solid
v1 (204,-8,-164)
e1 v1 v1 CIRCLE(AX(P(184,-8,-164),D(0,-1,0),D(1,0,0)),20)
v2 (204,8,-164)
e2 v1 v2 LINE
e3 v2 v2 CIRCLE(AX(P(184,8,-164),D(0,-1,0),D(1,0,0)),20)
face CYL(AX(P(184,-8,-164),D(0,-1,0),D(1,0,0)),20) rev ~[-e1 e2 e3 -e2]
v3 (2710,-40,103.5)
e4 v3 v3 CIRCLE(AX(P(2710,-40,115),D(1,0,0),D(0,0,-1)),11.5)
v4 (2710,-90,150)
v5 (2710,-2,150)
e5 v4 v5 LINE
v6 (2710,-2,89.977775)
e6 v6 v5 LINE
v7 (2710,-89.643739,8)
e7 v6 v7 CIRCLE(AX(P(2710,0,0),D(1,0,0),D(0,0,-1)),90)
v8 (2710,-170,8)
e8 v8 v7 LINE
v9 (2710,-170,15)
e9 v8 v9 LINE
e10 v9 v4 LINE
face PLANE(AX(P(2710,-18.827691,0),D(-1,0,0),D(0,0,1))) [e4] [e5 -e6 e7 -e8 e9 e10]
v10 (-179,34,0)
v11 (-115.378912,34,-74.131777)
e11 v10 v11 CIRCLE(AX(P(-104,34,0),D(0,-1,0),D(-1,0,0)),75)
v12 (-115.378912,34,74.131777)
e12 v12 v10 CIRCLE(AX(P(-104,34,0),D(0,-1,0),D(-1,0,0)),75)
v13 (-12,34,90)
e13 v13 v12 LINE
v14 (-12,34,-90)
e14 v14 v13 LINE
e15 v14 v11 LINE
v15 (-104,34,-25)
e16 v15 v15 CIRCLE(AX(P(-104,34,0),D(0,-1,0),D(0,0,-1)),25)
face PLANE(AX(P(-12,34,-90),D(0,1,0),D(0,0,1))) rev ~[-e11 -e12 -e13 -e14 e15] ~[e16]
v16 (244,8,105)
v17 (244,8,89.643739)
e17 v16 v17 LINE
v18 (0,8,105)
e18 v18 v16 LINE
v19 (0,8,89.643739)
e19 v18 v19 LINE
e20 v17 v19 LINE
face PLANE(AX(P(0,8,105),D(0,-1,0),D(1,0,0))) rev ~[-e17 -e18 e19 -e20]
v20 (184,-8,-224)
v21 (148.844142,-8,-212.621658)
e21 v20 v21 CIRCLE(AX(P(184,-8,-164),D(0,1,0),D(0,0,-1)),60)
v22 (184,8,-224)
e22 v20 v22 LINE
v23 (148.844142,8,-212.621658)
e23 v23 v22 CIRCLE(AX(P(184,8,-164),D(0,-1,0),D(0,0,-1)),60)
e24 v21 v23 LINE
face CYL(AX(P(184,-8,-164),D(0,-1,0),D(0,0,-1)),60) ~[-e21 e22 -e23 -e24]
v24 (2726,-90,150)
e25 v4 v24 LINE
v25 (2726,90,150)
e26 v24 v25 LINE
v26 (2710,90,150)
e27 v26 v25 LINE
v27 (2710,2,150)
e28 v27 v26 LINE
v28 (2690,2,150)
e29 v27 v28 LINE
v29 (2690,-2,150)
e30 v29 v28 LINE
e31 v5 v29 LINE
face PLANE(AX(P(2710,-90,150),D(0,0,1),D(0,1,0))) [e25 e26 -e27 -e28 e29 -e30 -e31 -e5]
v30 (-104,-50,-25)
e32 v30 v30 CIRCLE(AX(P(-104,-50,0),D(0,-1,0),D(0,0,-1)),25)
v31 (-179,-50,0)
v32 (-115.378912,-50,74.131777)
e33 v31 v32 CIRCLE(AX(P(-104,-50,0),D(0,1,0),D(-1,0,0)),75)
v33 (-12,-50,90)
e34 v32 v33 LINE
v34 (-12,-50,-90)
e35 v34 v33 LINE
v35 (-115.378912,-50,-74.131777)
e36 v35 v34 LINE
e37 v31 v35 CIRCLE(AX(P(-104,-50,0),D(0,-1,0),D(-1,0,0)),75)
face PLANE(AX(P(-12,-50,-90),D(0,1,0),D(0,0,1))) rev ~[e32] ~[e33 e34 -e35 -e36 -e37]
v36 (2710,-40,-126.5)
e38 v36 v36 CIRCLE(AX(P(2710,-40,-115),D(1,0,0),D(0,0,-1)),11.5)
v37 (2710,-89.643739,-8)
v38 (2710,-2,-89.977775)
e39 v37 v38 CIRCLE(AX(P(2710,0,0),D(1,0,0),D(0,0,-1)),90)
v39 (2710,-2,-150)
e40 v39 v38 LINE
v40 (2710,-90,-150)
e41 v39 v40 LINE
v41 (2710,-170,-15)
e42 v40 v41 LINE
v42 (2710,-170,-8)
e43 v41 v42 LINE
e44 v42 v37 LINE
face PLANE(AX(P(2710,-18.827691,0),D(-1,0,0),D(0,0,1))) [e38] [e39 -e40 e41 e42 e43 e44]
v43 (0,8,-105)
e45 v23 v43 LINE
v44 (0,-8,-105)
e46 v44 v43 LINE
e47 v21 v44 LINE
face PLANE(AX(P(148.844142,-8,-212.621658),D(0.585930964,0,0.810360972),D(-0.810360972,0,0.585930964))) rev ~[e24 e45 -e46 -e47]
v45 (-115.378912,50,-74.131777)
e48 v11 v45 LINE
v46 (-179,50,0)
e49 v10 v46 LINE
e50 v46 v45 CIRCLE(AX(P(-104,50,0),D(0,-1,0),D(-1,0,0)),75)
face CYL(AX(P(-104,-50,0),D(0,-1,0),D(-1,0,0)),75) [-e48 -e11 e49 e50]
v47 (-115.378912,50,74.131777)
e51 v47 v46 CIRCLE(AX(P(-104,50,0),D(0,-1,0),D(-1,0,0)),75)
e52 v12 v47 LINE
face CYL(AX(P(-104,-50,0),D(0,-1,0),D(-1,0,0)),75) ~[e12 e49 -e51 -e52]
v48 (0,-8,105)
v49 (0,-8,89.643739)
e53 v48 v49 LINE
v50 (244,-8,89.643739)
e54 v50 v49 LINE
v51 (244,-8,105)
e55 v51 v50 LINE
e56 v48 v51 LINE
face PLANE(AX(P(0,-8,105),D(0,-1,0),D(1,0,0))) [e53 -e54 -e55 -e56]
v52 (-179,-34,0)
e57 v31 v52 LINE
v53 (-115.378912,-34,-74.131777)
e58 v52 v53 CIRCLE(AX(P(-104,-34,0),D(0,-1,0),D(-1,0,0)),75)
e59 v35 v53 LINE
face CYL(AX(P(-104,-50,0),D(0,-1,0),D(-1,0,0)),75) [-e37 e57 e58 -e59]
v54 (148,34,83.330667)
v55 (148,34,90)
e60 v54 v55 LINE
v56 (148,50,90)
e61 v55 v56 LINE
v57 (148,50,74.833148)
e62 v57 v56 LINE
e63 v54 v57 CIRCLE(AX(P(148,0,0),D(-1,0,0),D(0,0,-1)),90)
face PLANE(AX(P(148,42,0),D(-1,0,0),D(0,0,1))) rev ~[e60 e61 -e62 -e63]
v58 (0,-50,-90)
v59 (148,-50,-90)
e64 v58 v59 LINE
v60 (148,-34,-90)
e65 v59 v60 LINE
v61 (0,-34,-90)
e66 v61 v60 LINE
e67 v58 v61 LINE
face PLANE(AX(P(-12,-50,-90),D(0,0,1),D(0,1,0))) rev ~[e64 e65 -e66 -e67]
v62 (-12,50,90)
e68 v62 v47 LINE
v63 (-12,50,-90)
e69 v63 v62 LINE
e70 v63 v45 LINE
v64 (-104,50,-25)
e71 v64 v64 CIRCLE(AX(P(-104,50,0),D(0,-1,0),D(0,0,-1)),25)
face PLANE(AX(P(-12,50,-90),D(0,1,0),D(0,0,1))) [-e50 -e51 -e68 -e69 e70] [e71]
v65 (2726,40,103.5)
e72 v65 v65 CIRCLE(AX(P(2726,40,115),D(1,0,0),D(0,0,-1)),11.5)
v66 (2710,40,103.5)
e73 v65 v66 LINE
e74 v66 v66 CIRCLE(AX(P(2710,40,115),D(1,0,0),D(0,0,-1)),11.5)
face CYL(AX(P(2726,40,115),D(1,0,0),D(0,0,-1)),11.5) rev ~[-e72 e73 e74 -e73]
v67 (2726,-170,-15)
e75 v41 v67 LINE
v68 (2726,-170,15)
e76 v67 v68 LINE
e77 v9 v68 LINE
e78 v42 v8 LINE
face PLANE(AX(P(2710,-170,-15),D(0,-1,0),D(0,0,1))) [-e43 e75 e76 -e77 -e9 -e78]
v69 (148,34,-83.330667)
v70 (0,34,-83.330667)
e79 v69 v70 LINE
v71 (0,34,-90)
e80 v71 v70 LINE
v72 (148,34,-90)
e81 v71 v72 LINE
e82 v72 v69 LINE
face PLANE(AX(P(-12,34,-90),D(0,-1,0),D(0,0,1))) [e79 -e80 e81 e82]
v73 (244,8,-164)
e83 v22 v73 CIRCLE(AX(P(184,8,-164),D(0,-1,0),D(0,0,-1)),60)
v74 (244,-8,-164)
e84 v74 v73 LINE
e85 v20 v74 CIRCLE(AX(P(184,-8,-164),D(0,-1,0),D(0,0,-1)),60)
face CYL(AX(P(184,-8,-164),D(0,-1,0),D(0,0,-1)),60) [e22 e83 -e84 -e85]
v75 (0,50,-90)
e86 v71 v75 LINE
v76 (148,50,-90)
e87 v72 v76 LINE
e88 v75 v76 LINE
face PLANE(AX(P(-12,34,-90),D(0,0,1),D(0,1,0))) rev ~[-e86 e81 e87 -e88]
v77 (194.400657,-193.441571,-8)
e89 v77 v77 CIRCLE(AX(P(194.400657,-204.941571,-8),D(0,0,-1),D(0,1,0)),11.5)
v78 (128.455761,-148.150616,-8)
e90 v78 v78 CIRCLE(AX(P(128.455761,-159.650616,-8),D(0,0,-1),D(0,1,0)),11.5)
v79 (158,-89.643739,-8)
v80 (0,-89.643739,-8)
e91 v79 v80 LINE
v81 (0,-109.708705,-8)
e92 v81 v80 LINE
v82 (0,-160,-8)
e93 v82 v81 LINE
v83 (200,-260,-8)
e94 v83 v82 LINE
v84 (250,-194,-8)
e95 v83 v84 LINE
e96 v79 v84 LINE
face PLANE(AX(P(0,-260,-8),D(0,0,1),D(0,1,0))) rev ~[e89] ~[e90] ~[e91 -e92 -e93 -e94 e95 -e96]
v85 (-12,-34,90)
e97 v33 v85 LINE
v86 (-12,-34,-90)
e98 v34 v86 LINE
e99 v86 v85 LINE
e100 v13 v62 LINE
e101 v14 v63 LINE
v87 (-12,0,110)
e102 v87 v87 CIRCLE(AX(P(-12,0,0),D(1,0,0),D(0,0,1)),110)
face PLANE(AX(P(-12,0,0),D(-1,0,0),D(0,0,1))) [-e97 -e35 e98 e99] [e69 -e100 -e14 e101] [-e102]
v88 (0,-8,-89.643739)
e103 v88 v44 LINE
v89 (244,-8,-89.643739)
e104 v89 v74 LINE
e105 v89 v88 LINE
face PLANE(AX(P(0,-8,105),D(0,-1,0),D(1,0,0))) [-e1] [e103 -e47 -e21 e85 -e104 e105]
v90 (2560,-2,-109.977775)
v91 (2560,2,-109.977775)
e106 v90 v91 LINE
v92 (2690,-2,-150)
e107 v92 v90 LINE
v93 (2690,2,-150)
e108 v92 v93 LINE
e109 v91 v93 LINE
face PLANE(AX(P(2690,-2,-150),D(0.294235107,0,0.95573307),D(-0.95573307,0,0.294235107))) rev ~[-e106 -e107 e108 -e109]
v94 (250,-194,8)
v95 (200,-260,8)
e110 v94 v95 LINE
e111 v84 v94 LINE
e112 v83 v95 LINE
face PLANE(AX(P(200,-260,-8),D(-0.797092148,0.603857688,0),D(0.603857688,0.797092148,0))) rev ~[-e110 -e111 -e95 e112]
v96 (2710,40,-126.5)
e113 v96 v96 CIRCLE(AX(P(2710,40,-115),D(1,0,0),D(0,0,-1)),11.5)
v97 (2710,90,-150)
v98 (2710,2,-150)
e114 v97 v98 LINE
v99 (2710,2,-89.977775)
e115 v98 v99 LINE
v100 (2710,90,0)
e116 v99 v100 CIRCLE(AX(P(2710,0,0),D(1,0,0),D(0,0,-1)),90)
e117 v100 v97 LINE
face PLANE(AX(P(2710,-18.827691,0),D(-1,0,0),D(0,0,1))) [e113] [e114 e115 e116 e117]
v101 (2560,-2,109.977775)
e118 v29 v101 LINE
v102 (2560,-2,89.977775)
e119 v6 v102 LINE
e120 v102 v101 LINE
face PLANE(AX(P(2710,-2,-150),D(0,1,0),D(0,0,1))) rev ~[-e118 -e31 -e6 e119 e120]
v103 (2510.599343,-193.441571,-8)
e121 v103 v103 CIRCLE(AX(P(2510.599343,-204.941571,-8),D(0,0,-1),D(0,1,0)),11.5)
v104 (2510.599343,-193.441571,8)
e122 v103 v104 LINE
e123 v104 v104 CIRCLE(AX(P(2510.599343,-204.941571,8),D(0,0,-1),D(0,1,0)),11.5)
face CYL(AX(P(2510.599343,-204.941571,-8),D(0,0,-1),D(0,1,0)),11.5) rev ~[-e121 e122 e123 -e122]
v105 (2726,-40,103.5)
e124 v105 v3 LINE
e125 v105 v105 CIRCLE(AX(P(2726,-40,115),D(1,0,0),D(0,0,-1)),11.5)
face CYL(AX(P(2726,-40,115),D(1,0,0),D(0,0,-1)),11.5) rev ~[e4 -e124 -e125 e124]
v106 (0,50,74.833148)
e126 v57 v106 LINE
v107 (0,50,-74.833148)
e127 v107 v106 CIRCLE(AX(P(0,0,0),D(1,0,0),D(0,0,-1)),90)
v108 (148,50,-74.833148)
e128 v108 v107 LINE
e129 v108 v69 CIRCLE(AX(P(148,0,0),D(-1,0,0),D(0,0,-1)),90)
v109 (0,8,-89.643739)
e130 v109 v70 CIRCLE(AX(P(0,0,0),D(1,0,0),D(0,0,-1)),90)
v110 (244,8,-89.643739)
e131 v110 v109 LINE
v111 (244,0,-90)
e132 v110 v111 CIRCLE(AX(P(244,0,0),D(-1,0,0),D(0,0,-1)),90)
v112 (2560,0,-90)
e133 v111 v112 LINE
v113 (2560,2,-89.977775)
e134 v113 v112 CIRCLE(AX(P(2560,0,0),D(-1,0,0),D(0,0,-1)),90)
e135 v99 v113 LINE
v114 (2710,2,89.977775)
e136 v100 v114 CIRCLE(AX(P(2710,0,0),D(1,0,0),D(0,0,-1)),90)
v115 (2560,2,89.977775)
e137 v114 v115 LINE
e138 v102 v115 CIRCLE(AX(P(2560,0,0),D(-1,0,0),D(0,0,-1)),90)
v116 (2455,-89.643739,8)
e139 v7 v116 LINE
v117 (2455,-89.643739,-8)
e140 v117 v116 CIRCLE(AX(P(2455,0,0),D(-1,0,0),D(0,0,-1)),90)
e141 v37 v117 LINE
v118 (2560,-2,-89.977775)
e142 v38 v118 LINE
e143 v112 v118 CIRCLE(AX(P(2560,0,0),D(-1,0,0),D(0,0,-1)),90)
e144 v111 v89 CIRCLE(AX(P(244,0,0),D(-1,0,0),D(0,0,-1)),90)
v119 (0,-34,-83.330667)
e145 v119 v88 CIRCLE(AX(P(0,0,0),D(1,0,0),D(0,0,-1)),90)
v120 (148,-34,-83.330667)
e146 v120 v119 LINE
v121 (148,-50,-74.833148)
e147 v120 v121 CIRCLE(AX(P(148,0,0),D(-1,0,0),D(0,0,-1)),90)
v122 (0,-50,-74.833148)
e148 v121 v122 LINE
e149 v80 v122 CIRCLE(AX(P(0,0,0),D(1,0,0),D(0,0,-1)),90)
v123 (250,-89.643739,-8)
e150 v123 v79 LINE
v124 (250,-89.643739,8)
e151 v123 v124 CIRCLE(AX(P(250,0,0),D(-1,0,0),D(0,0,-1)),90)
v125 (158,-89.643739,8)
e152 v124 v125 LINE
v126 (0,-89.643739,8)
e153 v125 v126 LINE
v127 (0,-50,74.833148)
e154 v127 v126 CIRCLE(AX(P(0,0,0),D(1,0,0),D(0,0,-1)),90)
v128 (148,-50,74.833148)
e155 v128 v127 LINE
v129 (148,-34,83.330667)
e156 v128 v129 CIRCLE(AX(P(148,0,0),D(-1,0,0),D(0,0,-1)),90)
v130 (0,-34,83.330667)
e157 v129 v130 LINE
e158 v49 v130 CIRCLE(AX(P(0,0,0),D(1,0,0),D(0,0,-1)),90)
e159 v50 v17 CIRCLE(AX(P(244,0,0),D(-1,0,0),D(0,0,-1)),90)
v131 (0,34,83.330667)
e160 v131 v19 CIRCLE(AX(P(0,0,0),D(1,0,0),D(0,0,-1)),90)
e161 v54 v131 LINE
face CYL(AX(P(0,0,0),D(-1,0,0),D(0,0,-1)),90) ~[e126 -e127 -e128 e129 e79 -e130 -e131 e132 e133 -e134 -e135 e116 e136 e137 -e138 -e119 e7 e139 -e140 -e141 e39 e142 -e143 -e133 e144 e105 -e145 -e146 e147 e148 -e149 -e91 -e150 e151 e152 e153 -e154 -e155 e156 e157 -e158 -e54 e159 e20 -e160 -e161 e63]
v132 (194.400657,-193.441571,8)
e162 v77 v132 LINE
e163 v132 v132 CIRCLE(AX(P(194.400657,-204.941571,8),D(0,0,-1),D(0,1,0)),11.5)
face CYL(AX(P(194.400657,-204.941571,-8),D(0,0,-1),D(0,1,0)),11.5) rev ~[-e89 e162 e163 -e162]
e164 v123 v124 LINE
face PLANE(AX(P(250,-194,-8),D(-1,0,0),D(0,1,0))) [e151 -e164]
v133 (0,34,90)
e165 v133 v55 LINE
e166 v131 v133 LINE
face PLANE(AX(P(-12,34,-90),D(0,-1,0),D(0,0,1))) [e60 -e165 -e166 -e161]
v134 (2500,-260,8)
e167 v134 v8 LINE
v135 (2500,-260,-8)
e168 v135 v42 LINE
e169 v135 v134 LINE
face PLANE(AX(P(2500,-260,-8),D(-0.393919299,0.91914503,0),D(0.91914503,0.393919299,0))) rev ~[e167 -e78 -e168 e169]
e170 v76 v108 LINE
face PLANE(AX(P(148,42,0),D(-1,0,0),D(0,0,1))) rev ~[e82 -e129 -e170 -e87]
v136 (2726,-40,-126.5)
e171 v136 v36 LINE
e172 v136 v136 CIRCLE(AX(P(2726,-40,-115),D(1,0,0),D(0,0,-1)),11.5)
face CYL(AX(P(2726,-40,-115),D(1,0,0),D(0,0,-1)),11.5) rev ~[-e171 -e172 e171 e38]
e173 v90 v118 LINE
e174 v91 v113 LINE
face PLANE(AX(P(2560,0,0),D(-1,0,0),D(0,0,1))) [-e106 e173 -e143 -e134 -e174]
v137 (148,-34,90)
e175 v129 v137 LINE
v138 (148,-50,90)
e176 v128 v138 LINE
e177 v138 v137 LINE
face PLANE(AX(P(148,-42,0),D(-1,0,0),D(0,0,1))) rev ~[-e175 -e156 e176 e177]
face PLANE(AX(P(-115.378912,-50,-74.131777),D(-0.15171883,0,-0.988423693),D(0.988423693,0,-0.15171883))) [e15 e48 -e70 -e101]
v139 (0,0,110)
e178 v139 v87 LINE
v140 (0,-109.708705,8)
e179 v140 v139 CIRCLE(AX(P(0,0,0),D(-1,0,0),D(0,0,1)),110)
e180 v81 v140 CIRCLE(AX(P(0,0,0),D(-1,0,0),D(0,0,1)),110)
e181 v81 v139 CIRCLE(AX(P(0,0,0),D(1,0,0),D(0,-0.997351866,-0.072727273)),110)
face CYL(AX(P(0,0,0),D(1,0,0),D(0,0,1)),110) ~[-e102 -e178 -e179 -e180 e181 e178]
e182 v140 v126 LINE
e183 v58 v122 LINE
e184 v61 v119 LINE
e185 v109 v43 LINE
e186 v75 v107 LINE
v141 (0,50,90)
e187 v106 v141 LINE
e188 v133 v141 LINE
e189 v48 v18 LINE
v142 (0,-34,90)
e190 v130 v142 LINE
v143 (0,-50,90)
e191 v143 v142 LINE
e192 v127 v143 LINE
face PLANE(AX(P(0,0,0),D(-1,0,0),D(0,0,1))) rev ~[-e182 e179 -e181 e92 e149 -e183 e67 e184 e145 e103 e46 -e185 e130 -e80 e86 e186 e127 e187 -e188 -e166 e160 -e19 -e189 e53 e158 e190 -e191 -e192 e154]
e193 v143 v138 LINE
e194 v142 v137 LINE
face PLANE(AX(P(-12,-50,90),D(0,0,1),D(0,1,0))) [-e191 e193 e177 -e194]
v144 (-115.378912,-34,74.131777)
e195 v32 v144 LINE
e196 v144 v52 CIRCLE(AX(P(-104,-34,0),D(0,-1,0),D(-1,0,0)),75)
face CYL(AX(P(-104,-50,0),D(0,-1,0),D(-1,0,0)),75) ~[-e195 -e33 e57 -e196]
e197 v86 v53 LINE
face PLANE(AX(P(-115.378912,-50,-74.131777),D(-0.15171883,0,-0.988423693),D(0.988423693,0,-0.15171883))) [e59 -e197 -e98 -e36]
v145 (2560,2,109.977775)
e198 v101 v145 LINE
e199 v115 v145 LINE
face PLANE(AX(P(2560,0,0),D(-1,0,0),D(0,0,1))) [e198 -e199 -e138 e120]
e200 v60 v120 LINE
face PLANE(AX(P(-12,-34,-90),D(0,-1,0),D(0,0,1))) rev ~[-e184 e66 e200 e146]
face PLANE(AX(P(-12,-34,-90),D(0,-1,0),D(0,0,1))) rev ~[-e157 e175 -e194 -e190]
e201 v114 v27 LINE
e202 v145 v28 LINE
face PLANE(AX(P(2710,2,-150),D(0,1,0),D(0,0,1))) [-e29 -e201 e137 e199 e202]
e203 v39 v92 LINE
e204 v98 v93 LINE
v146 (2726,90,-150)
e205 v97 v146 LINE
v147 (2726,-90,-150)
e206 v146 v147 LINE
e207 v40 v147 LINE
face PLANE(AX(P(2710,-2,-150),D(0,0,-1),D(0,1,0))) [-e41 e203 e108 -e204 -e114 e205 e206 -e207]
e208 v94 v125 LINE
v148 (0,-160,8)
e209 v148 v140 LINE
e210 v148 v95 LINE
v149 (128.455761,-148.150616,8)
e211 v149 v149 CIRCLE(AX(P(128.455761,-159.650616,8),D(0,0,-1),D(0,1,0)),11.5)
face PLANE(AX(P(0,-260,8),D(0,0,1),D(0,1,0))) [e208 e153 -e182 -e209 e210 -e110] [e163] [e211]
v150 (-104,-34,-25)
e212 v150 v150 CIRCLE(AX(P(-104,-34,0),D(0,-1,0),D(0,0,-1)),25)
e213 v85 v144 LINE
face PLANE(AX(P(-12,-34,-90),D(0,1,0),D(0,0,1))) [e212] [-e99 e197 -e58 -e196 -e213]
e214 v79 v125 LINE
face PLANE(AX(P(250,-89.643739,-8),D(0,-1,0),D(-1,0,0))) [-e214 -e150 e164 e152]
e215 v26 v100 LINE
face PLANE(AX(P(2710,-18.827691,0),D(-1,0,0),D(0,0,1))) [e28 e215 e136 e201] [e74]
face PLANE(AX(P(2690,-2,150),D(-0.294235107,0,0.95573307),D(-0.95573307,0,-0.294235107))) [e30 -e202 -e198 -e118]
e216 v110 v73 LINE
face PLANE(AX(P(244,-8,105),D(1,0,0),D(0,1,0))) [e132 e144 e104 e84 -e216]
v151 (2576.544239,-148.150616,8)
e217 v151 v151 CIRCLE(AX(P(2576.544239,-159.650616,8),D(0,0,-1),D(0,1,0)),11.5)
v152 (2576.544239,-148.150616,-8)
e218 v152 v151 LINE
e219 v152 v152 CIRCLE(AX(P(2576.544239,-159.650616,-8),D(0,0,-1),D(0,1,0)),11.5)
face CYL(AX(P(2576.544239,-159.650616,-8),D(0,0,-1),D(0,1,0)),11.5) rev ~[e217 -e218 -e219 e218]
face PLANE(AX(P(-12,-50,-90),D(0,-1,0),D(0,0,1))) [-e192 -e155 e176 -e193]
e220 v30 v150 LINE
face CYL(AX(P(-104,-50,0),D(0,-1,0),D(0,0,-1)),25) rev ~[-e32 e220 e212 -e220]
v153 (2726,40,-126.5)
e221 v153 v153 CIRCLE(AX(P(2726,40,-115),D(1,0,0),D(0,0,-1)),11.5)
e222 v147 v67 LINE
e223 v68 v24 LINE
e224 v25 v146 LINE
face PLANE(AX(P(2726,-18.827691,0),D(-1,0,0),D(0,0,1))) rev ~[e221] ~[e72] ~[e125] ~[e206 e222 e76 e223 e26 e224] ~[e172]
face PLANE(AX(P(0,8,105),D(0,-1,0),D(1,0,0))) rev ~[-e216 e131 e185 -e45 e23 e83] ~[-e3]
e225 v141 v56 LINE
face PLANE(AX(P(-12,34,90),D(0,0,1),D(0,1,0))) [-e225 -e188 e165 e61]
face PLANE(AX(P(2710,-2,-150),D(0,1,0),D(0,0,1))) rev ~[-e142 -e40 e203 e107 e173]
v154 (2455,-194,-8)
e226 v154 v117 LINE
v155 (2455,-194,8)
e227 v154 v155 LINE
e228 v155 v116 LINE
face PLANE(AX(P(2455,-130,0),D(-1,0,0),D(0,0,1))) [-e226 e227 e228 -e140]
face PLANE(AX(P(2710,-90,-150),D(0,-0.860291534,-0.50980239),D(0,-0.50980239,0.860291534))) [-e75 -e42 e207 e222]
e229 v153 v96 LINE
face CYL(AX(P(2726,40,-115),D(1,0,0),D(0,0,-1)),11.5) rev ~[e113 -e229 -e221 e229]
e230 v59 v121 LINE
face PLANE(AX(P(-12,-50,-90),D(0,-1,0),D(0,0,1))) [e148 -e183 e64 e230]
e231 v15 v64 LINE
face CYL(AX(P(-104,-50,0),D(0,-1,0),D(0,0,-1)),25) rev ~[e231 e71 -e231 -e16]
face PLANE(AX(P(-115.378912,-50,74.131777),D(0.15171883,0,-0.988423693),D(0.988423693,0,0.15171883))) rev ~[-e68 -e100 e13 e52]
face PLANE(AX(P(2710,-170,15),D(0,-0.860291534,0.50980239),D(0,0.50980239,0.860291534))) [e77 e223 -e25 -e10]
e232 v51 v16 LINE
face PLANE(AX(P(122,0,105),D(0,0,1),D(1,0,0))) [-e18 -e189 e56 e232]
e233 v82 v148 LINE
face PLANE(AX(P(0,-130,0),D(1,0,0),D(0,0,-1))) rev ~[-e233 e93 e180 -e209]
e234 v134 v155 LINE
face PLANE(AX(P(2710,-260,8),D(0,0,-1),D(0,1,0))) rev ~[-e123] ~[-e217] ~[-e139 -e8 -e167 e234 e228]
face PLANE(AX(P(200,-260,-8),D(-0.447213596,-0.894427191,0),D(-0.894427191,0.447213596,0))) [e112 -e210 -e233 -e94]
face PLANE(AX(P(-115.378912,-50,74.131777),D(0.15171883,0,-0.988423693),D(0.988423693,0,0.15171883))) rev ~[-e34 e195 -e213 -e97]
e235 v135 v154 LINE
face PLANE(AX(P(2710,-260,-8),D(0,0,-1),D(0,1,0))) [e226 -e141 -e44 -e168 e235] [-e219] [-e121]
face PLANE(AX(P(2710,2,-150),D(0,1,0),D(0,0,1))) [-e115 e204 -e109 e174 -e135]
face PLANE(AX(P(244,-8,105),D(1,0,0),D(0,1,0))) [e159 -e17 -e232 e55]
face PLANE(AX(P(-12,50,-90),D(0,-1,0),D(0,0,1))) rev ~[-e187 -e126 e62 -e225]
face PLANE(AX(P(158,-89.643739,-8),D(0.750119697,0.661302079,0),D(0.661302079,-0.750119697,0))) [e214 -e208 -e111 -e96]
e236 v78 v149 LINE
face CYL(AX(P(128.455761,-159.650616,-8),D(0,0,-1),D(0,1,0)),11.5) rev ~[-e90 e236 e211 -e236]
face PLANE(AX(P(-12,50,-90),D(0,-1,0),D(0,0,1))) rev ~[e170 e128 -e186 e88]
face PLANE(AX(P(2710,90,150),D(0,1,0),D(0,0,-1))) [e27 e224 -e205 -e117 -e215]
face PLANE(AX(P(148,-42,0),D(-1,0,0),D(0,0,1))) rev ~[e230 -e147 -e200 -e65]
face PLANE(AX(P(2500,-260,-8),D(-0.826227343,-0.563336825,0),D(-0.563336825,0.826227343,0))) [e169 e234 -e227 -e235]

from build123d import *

# Parameters (mm, degrees)
SKETCH_2_R           = 90
EXTRUDE_1_DEPTH      = 2710
EXTRUDE_2_DEPTH      = 16
SKETCH_4_R           = 11.5
CUT_EXTRUDE_1_DEPTH  = 2736.411486413
SKETCH_5_W           = 300
SKETCH_5_H           = 4
EXTRUDE_3_DEPTH      = 150
CUT_EXTRUDE_2_DEPTH  = 2736.287919032
SKETCH_7_W           = 16
SKETCH_7_H           = 260
EXTRUDE_4_DEPTH      = 255
CUT_EXTRUDE_3_DEPTH  = 2743.925445578
CUT_EXTRUDE_4_DEPTH  = 2743.925445578
SKETCH_11_R          = 11.5
CUT_EXTRUDE_5_DEPTH  = 2743.925445578
SKETCH_12_R          = 110
EXTRUDE_5_DEPTH      = 12
SKETCH_14_W          = 16
SKETCH_14_H          = 260
EXTRUDE_6_DEPTH      = 250
CUT_EXTRUDE_7_DEPTH  = 2743.925445578
CUT_EXTRUDE_8_DEPTH  = 2743.925445578
SKETCH_17_R          = 11.5
CUT_EXTRUDE_9_DEPTH  = 2743.925445578
SKETCH_18_W          = 180
SKETCH_18_H          = 16
EXTRUDE_7_DEPTH      = 167
CUT_EXTRUDE_10_DEPTH = 2739.188452244
CUT_EXTRUDE_11_DEPTH = 2739.188452244
SKETCH_21_R          = 25
CUT_EXTRUDE_12_DEPTH = 2739.188452244
SKETCH_22_W          = 180
SKETCH_22_H          = 16
EXTRUDE_8_DEPTH      = 160
SKETCH_23_W          = 244
SKETCH_23_H          = 16
EXTRUDE_9_DEPTH      = 329
CUT_EXTRUDE_13_DEPTH = 2747.77192355
CUT_EXTRUDE_14_DEPTH = 2747.77192355
SKETCH_27_R          = 20
CUT_EXTRUDE_15_DEPTH = 2747.77192355


with BuildPart() as part:
    # 草图2 → 凸台-拉伸1 (new body)
    with BuildSketch(Plane(origin=(0, 0, 0), x_dir=(0, 0, -1), z_dir=(1, 0, 0))):
        Circle(SKETCH_2_R)
    extrude(amount=EXTRUDE_1_DEPTH)

    # 草图3 → 凸台-拉伸2 (add)
    with BuildSketch(Plane(origin=(2710, 0, 0), x_dir=(0, 0, -1), z_dir=(1, 0, 0))):
        Polygon((-150, 90), (150, 90), (150, -90), (15, -170), (-15, -170), (-150, -90), align=None)
    extrude(amount=EXTRUDE_2_DEPTH)

    # 草图4 → 切除-拉伸1 (cut, through all)
    with BuildSketch(Plane(origin=(2726, 0, 0), x_dir=(0, 0, -1), z_dir=(1, 0, 0))):
        with Locations((115, -40)):
            Circle(SKETCH_4_R)
        with Locations((115, 40)):
            Circle(SKETCH_4_R)
        with Locations((-115, 40)):
            Circle(SKETCH_4_R)
        with Locations((-115, -40)):
            Circle(SKETCH_4_R)
    extrude(amount=-CUT_EXTRUDE_1_DEPTH, mode=Mode.SUBTRACT)

    # 草图5 → 凸台-拉伸3 (add)
    with BuildSketch(Plane.ZY.offset(-2710)):
        Rectangle(SKETCH_5_W, SKETCH_5_H)
    extrude(amount=EXTRUDE_3_DEPTH)

    # 草图6 → 切除-拉伸2 (cut, through all)
    with BuildSketch(Plane.XZ.offset(2)):
        Polygon((2690, 150), (2560, 109.977775034), (2560, 150), align=None)
        Polygon((2560, -109.977775034), (2560, -150), (2690, -150), align=None)
    extrude(amount=-CUT_EXTRUDE_2_DEPTH, mode=Mode.SUBTRACT)

    # 草图7 → 凸台-拉伸4 (add)
    with BuildSketch(Plane.ZY.offset(-2710)):
        with Locations((0, -130)):
            Rectangle(SKETCH_7_W, SKETCH_7_H)
    extrude(amount=EXTRUDE_4_DEPTH)

    # 草图9 → 切除-拉伸3 (cut, through all)
    with BuildSketch(Plane(origin=(0, 0, -8), x_dir=(-1, 0, 0), z_dir=(0, 0, -1))):
        Polygon((-2710, -260), (-2500, -260), (-2710, -170), align=None)
    extrude(amount=-CUT_EXTRUDE_3_DEPTH, mode=Mode.SUBTRACT)

    # 草图10 → 切除-拉伸4 (cut, through all)
    with BuildSketch(Plane(origin=(0, 0, -8), x_dir=(-1, 0, 0), z_dir=(0, 0, -1))):
        Polygon((-2500, -260), (-2455, -194), (-2455, -260), align=None)
    extrude(amount=-CUT_EXTRUDE_4_DEPTH, mode=Mode.SUBTRACT)

    # 草图11 → 切除-拉伸5 (cut, through all)
    with BuildSketch(Plane(origin=(0, 0, -8), x_dir=(-1, 0, 0), z_dir=(0, 0, -1))):
        with Locations((-2576.544239322, -159.650616434)):
            Circle(SKETCH_11_R)
        with Locations((-2510.599342676, -204.94157145)):
            Circle(SKETCH_11_R)
    extrude(amount=-CUT_EXTRUDE_5_DEPTH, mode=Mode.SUBTRACT)

    # 草图12 → 凸台-拉伸5 (add)
    with BuildSketch(Plane.ZY):
        Circle(SKETCH_12_R)
    extrude(amount=EXTRUDE_5_DEPTH)

    # 草图14 → 凸台-拉伸6 (add)
    with BuildSketch(Plane(origin=(0, 0, 0), x_dir=(0, 0, -1), z_dir=(1, 0, 0))):
        with Locations((0, -130)):
            Rectangle(SKETCH_14_W, SKETCH_14_H)
    extrude(amount=EXTRUDE_6_DEPTH)

    # 草图15 → 切除-拉伸7 (cut, through all)
    with BuildSketch(Plane(origin=(0, 0, -8), x_dir=(-1, 0, 0), z_dir=(0, 0, -1))):
        Polygon((-250, -194), (-250, -89.643739324), (-158, -89.643739324), align=None)
        Polygon((-200, -260), (0, -160), (0, -260), align=None)
    extrude(amount=-CUT_EXTRUDE_7_DEPTH, mode=Mode.SUBTRACT)

    # 草图16 → 切除-拉伸8 (cut, through all)
    with BuildSketch(Plane(origin=(0, 0, -8), x_dir=(-1, 0, 0), z_dir=(0, 0, -1))):
        Polygon((-250, -260), (-200, -260), (-250, -194), align=None)
    extrude(amount=-CUT_EXTRUDE_8_DEPTH, mode=Mode.SUBTRACT)

    # 草图17 → 切除-拉伸9 (cut, through all)
    with BuildSketch(Plane(origin=(0, 0, -8), x_dir=(-1, 0, 0), z_dir=(0, 0, -1))):
        with Locations((-128.455760678, -159.650616434)):
            Circle(SKETCH_17_R)
        with Locations((-194.400657324, -204.94157145)):
            Circle(SKETCH_17_R)
    extrude(amount=-CUT_EXTRUDE_9_DEPTH, mode=Mode.SUBTRACT)

    # 草图18 → 凸台-拉伸7 (add)
    with BuildSketch(Plane.ZY.offset(12)):
        with Locations((0, 42)):
            Rectangle(SKETCH_18_W, SKETCH_18_H)
        with Locations((0, -42)):
            Rectangle(SKETCH_18_W, SKETCH_18_H)
    extrude(amount=EXTRUDE_7_DEPTH)

    # 草图19 → 切除-拉伸10 (cut, through all)
    with BuildSketch(Plane.XZ.offset(50)):
        with BuildLine():
            Line((-115.378912249, 74.131776965), (-12, 90))
            Line((-12, 90), (-179, 90))
            Line((-179, 90), (-179, 0))
            ThreePointArc((-179, 0), (-160.914051071, 48.844557431), (-115.378912249, 74.131776965))
        make_face()
    extrude(amount=-CUT_EXTRUDE_10_DEPTH, mode=Mode.SUBTRACT)

    # 草图20 → 切除-拉伸11 (cut, through all)
    with BuildSketch(Plane.XZ.offset(50)):
        with BuildLine():
            Line((-115.378912249, -74.131776965), (-12, -90))
            Line((-12, -90), (-179, -90))
            Line((-179, -90), (-179, 0))
            ThreePointArc((-179, 0), (-160.914051071, -48.844557431), (-115.378912249, -74.131776965))
        make_face()
    extrude(amount=-CUT_EXTRUDE_11_DEPTH, mode=Mode.SUBTRACT)

    # 草图21 → 切除-拉伸12 (cut, through all)
    with BuildSketch(Plane.XZ.offset(50)):
        with Locations((-104, 0)):
            Circle(SKETCH_21_R)
    extrude(amount=-CUT_EXTRUDE_12_DEPTH, mode=Mode.SUBTRACT)

    # 草图22 → 凸台-拉伸8 (add)
    with BuildSketch(Plane.ZY.offset(12)):
        with Locations((0, 42)):
            Rectangle(SKETCH_22_W, SKETCH_22_H)
        with Locations((0, -42)):
            Rectangle(SKETCH_22_W, SKETCH_22_H)
    extrude(amount=-EXTRUDE_8_DEPTH)

    # 草图23 → 凸台-拉伸9 (add)
    with BuildSketch(Plane.XY.offset(105)):
        with Locations((122, 0)):
            Rectangle(SKETCH_23_W, SKETCH_23_H)
    extrude(amount=-EXTRUDE_9_DEPTH)

    # 草图25 → 切除-拉伸13 (cut, through all)
    with BuildSketch(Plane(origin=(0, -8, 0), x_dir=(-1, 0, 0), z_dir=(0, -1, 0))):
        with BuildLine():
            Line((-244, 164), (-244, 224))
            Line((-244, 224), (-184, 224))
            ThreePointArc((-184, 224), (-226.426406871, 206.426406871), (-244, 164))
        make_face()
    extrude(amount=-CUT_EXTRUDE_13_DEPTH, mode=Mode.SUBTRACT)

    # 草图26 → 切除-拉伸14 (cut, through all)
    with BuildSketch(Plane.XZ.offset(8)):
        with BuildLine():
            Line((148.844142163, -212.62165834), (0, -105))
            Line((0, -105), (0, -224))
            Line((0, -224), (184, -224))
            ThreePointArc((184, -224), (165.524333576, -221.084584173), (148.844142163, -212.62165834))
        make_face()
    extrude(amount=-CUT_EXTRUDE_14_DEPTH, mode=Mode.SUBTRACT)

    # 草图27 → 切除-拉伸15 (cut, through all)
    with BuildSketch(Plane.XZ.offset(8)):
        with Locations((184, -164)):
            Circle(SKETCH_27_R)
    extrude(amount=-CUT_EXTRUDE_15_DEPTH, mode=Mode.SUBTRACT)


solid = part.part
